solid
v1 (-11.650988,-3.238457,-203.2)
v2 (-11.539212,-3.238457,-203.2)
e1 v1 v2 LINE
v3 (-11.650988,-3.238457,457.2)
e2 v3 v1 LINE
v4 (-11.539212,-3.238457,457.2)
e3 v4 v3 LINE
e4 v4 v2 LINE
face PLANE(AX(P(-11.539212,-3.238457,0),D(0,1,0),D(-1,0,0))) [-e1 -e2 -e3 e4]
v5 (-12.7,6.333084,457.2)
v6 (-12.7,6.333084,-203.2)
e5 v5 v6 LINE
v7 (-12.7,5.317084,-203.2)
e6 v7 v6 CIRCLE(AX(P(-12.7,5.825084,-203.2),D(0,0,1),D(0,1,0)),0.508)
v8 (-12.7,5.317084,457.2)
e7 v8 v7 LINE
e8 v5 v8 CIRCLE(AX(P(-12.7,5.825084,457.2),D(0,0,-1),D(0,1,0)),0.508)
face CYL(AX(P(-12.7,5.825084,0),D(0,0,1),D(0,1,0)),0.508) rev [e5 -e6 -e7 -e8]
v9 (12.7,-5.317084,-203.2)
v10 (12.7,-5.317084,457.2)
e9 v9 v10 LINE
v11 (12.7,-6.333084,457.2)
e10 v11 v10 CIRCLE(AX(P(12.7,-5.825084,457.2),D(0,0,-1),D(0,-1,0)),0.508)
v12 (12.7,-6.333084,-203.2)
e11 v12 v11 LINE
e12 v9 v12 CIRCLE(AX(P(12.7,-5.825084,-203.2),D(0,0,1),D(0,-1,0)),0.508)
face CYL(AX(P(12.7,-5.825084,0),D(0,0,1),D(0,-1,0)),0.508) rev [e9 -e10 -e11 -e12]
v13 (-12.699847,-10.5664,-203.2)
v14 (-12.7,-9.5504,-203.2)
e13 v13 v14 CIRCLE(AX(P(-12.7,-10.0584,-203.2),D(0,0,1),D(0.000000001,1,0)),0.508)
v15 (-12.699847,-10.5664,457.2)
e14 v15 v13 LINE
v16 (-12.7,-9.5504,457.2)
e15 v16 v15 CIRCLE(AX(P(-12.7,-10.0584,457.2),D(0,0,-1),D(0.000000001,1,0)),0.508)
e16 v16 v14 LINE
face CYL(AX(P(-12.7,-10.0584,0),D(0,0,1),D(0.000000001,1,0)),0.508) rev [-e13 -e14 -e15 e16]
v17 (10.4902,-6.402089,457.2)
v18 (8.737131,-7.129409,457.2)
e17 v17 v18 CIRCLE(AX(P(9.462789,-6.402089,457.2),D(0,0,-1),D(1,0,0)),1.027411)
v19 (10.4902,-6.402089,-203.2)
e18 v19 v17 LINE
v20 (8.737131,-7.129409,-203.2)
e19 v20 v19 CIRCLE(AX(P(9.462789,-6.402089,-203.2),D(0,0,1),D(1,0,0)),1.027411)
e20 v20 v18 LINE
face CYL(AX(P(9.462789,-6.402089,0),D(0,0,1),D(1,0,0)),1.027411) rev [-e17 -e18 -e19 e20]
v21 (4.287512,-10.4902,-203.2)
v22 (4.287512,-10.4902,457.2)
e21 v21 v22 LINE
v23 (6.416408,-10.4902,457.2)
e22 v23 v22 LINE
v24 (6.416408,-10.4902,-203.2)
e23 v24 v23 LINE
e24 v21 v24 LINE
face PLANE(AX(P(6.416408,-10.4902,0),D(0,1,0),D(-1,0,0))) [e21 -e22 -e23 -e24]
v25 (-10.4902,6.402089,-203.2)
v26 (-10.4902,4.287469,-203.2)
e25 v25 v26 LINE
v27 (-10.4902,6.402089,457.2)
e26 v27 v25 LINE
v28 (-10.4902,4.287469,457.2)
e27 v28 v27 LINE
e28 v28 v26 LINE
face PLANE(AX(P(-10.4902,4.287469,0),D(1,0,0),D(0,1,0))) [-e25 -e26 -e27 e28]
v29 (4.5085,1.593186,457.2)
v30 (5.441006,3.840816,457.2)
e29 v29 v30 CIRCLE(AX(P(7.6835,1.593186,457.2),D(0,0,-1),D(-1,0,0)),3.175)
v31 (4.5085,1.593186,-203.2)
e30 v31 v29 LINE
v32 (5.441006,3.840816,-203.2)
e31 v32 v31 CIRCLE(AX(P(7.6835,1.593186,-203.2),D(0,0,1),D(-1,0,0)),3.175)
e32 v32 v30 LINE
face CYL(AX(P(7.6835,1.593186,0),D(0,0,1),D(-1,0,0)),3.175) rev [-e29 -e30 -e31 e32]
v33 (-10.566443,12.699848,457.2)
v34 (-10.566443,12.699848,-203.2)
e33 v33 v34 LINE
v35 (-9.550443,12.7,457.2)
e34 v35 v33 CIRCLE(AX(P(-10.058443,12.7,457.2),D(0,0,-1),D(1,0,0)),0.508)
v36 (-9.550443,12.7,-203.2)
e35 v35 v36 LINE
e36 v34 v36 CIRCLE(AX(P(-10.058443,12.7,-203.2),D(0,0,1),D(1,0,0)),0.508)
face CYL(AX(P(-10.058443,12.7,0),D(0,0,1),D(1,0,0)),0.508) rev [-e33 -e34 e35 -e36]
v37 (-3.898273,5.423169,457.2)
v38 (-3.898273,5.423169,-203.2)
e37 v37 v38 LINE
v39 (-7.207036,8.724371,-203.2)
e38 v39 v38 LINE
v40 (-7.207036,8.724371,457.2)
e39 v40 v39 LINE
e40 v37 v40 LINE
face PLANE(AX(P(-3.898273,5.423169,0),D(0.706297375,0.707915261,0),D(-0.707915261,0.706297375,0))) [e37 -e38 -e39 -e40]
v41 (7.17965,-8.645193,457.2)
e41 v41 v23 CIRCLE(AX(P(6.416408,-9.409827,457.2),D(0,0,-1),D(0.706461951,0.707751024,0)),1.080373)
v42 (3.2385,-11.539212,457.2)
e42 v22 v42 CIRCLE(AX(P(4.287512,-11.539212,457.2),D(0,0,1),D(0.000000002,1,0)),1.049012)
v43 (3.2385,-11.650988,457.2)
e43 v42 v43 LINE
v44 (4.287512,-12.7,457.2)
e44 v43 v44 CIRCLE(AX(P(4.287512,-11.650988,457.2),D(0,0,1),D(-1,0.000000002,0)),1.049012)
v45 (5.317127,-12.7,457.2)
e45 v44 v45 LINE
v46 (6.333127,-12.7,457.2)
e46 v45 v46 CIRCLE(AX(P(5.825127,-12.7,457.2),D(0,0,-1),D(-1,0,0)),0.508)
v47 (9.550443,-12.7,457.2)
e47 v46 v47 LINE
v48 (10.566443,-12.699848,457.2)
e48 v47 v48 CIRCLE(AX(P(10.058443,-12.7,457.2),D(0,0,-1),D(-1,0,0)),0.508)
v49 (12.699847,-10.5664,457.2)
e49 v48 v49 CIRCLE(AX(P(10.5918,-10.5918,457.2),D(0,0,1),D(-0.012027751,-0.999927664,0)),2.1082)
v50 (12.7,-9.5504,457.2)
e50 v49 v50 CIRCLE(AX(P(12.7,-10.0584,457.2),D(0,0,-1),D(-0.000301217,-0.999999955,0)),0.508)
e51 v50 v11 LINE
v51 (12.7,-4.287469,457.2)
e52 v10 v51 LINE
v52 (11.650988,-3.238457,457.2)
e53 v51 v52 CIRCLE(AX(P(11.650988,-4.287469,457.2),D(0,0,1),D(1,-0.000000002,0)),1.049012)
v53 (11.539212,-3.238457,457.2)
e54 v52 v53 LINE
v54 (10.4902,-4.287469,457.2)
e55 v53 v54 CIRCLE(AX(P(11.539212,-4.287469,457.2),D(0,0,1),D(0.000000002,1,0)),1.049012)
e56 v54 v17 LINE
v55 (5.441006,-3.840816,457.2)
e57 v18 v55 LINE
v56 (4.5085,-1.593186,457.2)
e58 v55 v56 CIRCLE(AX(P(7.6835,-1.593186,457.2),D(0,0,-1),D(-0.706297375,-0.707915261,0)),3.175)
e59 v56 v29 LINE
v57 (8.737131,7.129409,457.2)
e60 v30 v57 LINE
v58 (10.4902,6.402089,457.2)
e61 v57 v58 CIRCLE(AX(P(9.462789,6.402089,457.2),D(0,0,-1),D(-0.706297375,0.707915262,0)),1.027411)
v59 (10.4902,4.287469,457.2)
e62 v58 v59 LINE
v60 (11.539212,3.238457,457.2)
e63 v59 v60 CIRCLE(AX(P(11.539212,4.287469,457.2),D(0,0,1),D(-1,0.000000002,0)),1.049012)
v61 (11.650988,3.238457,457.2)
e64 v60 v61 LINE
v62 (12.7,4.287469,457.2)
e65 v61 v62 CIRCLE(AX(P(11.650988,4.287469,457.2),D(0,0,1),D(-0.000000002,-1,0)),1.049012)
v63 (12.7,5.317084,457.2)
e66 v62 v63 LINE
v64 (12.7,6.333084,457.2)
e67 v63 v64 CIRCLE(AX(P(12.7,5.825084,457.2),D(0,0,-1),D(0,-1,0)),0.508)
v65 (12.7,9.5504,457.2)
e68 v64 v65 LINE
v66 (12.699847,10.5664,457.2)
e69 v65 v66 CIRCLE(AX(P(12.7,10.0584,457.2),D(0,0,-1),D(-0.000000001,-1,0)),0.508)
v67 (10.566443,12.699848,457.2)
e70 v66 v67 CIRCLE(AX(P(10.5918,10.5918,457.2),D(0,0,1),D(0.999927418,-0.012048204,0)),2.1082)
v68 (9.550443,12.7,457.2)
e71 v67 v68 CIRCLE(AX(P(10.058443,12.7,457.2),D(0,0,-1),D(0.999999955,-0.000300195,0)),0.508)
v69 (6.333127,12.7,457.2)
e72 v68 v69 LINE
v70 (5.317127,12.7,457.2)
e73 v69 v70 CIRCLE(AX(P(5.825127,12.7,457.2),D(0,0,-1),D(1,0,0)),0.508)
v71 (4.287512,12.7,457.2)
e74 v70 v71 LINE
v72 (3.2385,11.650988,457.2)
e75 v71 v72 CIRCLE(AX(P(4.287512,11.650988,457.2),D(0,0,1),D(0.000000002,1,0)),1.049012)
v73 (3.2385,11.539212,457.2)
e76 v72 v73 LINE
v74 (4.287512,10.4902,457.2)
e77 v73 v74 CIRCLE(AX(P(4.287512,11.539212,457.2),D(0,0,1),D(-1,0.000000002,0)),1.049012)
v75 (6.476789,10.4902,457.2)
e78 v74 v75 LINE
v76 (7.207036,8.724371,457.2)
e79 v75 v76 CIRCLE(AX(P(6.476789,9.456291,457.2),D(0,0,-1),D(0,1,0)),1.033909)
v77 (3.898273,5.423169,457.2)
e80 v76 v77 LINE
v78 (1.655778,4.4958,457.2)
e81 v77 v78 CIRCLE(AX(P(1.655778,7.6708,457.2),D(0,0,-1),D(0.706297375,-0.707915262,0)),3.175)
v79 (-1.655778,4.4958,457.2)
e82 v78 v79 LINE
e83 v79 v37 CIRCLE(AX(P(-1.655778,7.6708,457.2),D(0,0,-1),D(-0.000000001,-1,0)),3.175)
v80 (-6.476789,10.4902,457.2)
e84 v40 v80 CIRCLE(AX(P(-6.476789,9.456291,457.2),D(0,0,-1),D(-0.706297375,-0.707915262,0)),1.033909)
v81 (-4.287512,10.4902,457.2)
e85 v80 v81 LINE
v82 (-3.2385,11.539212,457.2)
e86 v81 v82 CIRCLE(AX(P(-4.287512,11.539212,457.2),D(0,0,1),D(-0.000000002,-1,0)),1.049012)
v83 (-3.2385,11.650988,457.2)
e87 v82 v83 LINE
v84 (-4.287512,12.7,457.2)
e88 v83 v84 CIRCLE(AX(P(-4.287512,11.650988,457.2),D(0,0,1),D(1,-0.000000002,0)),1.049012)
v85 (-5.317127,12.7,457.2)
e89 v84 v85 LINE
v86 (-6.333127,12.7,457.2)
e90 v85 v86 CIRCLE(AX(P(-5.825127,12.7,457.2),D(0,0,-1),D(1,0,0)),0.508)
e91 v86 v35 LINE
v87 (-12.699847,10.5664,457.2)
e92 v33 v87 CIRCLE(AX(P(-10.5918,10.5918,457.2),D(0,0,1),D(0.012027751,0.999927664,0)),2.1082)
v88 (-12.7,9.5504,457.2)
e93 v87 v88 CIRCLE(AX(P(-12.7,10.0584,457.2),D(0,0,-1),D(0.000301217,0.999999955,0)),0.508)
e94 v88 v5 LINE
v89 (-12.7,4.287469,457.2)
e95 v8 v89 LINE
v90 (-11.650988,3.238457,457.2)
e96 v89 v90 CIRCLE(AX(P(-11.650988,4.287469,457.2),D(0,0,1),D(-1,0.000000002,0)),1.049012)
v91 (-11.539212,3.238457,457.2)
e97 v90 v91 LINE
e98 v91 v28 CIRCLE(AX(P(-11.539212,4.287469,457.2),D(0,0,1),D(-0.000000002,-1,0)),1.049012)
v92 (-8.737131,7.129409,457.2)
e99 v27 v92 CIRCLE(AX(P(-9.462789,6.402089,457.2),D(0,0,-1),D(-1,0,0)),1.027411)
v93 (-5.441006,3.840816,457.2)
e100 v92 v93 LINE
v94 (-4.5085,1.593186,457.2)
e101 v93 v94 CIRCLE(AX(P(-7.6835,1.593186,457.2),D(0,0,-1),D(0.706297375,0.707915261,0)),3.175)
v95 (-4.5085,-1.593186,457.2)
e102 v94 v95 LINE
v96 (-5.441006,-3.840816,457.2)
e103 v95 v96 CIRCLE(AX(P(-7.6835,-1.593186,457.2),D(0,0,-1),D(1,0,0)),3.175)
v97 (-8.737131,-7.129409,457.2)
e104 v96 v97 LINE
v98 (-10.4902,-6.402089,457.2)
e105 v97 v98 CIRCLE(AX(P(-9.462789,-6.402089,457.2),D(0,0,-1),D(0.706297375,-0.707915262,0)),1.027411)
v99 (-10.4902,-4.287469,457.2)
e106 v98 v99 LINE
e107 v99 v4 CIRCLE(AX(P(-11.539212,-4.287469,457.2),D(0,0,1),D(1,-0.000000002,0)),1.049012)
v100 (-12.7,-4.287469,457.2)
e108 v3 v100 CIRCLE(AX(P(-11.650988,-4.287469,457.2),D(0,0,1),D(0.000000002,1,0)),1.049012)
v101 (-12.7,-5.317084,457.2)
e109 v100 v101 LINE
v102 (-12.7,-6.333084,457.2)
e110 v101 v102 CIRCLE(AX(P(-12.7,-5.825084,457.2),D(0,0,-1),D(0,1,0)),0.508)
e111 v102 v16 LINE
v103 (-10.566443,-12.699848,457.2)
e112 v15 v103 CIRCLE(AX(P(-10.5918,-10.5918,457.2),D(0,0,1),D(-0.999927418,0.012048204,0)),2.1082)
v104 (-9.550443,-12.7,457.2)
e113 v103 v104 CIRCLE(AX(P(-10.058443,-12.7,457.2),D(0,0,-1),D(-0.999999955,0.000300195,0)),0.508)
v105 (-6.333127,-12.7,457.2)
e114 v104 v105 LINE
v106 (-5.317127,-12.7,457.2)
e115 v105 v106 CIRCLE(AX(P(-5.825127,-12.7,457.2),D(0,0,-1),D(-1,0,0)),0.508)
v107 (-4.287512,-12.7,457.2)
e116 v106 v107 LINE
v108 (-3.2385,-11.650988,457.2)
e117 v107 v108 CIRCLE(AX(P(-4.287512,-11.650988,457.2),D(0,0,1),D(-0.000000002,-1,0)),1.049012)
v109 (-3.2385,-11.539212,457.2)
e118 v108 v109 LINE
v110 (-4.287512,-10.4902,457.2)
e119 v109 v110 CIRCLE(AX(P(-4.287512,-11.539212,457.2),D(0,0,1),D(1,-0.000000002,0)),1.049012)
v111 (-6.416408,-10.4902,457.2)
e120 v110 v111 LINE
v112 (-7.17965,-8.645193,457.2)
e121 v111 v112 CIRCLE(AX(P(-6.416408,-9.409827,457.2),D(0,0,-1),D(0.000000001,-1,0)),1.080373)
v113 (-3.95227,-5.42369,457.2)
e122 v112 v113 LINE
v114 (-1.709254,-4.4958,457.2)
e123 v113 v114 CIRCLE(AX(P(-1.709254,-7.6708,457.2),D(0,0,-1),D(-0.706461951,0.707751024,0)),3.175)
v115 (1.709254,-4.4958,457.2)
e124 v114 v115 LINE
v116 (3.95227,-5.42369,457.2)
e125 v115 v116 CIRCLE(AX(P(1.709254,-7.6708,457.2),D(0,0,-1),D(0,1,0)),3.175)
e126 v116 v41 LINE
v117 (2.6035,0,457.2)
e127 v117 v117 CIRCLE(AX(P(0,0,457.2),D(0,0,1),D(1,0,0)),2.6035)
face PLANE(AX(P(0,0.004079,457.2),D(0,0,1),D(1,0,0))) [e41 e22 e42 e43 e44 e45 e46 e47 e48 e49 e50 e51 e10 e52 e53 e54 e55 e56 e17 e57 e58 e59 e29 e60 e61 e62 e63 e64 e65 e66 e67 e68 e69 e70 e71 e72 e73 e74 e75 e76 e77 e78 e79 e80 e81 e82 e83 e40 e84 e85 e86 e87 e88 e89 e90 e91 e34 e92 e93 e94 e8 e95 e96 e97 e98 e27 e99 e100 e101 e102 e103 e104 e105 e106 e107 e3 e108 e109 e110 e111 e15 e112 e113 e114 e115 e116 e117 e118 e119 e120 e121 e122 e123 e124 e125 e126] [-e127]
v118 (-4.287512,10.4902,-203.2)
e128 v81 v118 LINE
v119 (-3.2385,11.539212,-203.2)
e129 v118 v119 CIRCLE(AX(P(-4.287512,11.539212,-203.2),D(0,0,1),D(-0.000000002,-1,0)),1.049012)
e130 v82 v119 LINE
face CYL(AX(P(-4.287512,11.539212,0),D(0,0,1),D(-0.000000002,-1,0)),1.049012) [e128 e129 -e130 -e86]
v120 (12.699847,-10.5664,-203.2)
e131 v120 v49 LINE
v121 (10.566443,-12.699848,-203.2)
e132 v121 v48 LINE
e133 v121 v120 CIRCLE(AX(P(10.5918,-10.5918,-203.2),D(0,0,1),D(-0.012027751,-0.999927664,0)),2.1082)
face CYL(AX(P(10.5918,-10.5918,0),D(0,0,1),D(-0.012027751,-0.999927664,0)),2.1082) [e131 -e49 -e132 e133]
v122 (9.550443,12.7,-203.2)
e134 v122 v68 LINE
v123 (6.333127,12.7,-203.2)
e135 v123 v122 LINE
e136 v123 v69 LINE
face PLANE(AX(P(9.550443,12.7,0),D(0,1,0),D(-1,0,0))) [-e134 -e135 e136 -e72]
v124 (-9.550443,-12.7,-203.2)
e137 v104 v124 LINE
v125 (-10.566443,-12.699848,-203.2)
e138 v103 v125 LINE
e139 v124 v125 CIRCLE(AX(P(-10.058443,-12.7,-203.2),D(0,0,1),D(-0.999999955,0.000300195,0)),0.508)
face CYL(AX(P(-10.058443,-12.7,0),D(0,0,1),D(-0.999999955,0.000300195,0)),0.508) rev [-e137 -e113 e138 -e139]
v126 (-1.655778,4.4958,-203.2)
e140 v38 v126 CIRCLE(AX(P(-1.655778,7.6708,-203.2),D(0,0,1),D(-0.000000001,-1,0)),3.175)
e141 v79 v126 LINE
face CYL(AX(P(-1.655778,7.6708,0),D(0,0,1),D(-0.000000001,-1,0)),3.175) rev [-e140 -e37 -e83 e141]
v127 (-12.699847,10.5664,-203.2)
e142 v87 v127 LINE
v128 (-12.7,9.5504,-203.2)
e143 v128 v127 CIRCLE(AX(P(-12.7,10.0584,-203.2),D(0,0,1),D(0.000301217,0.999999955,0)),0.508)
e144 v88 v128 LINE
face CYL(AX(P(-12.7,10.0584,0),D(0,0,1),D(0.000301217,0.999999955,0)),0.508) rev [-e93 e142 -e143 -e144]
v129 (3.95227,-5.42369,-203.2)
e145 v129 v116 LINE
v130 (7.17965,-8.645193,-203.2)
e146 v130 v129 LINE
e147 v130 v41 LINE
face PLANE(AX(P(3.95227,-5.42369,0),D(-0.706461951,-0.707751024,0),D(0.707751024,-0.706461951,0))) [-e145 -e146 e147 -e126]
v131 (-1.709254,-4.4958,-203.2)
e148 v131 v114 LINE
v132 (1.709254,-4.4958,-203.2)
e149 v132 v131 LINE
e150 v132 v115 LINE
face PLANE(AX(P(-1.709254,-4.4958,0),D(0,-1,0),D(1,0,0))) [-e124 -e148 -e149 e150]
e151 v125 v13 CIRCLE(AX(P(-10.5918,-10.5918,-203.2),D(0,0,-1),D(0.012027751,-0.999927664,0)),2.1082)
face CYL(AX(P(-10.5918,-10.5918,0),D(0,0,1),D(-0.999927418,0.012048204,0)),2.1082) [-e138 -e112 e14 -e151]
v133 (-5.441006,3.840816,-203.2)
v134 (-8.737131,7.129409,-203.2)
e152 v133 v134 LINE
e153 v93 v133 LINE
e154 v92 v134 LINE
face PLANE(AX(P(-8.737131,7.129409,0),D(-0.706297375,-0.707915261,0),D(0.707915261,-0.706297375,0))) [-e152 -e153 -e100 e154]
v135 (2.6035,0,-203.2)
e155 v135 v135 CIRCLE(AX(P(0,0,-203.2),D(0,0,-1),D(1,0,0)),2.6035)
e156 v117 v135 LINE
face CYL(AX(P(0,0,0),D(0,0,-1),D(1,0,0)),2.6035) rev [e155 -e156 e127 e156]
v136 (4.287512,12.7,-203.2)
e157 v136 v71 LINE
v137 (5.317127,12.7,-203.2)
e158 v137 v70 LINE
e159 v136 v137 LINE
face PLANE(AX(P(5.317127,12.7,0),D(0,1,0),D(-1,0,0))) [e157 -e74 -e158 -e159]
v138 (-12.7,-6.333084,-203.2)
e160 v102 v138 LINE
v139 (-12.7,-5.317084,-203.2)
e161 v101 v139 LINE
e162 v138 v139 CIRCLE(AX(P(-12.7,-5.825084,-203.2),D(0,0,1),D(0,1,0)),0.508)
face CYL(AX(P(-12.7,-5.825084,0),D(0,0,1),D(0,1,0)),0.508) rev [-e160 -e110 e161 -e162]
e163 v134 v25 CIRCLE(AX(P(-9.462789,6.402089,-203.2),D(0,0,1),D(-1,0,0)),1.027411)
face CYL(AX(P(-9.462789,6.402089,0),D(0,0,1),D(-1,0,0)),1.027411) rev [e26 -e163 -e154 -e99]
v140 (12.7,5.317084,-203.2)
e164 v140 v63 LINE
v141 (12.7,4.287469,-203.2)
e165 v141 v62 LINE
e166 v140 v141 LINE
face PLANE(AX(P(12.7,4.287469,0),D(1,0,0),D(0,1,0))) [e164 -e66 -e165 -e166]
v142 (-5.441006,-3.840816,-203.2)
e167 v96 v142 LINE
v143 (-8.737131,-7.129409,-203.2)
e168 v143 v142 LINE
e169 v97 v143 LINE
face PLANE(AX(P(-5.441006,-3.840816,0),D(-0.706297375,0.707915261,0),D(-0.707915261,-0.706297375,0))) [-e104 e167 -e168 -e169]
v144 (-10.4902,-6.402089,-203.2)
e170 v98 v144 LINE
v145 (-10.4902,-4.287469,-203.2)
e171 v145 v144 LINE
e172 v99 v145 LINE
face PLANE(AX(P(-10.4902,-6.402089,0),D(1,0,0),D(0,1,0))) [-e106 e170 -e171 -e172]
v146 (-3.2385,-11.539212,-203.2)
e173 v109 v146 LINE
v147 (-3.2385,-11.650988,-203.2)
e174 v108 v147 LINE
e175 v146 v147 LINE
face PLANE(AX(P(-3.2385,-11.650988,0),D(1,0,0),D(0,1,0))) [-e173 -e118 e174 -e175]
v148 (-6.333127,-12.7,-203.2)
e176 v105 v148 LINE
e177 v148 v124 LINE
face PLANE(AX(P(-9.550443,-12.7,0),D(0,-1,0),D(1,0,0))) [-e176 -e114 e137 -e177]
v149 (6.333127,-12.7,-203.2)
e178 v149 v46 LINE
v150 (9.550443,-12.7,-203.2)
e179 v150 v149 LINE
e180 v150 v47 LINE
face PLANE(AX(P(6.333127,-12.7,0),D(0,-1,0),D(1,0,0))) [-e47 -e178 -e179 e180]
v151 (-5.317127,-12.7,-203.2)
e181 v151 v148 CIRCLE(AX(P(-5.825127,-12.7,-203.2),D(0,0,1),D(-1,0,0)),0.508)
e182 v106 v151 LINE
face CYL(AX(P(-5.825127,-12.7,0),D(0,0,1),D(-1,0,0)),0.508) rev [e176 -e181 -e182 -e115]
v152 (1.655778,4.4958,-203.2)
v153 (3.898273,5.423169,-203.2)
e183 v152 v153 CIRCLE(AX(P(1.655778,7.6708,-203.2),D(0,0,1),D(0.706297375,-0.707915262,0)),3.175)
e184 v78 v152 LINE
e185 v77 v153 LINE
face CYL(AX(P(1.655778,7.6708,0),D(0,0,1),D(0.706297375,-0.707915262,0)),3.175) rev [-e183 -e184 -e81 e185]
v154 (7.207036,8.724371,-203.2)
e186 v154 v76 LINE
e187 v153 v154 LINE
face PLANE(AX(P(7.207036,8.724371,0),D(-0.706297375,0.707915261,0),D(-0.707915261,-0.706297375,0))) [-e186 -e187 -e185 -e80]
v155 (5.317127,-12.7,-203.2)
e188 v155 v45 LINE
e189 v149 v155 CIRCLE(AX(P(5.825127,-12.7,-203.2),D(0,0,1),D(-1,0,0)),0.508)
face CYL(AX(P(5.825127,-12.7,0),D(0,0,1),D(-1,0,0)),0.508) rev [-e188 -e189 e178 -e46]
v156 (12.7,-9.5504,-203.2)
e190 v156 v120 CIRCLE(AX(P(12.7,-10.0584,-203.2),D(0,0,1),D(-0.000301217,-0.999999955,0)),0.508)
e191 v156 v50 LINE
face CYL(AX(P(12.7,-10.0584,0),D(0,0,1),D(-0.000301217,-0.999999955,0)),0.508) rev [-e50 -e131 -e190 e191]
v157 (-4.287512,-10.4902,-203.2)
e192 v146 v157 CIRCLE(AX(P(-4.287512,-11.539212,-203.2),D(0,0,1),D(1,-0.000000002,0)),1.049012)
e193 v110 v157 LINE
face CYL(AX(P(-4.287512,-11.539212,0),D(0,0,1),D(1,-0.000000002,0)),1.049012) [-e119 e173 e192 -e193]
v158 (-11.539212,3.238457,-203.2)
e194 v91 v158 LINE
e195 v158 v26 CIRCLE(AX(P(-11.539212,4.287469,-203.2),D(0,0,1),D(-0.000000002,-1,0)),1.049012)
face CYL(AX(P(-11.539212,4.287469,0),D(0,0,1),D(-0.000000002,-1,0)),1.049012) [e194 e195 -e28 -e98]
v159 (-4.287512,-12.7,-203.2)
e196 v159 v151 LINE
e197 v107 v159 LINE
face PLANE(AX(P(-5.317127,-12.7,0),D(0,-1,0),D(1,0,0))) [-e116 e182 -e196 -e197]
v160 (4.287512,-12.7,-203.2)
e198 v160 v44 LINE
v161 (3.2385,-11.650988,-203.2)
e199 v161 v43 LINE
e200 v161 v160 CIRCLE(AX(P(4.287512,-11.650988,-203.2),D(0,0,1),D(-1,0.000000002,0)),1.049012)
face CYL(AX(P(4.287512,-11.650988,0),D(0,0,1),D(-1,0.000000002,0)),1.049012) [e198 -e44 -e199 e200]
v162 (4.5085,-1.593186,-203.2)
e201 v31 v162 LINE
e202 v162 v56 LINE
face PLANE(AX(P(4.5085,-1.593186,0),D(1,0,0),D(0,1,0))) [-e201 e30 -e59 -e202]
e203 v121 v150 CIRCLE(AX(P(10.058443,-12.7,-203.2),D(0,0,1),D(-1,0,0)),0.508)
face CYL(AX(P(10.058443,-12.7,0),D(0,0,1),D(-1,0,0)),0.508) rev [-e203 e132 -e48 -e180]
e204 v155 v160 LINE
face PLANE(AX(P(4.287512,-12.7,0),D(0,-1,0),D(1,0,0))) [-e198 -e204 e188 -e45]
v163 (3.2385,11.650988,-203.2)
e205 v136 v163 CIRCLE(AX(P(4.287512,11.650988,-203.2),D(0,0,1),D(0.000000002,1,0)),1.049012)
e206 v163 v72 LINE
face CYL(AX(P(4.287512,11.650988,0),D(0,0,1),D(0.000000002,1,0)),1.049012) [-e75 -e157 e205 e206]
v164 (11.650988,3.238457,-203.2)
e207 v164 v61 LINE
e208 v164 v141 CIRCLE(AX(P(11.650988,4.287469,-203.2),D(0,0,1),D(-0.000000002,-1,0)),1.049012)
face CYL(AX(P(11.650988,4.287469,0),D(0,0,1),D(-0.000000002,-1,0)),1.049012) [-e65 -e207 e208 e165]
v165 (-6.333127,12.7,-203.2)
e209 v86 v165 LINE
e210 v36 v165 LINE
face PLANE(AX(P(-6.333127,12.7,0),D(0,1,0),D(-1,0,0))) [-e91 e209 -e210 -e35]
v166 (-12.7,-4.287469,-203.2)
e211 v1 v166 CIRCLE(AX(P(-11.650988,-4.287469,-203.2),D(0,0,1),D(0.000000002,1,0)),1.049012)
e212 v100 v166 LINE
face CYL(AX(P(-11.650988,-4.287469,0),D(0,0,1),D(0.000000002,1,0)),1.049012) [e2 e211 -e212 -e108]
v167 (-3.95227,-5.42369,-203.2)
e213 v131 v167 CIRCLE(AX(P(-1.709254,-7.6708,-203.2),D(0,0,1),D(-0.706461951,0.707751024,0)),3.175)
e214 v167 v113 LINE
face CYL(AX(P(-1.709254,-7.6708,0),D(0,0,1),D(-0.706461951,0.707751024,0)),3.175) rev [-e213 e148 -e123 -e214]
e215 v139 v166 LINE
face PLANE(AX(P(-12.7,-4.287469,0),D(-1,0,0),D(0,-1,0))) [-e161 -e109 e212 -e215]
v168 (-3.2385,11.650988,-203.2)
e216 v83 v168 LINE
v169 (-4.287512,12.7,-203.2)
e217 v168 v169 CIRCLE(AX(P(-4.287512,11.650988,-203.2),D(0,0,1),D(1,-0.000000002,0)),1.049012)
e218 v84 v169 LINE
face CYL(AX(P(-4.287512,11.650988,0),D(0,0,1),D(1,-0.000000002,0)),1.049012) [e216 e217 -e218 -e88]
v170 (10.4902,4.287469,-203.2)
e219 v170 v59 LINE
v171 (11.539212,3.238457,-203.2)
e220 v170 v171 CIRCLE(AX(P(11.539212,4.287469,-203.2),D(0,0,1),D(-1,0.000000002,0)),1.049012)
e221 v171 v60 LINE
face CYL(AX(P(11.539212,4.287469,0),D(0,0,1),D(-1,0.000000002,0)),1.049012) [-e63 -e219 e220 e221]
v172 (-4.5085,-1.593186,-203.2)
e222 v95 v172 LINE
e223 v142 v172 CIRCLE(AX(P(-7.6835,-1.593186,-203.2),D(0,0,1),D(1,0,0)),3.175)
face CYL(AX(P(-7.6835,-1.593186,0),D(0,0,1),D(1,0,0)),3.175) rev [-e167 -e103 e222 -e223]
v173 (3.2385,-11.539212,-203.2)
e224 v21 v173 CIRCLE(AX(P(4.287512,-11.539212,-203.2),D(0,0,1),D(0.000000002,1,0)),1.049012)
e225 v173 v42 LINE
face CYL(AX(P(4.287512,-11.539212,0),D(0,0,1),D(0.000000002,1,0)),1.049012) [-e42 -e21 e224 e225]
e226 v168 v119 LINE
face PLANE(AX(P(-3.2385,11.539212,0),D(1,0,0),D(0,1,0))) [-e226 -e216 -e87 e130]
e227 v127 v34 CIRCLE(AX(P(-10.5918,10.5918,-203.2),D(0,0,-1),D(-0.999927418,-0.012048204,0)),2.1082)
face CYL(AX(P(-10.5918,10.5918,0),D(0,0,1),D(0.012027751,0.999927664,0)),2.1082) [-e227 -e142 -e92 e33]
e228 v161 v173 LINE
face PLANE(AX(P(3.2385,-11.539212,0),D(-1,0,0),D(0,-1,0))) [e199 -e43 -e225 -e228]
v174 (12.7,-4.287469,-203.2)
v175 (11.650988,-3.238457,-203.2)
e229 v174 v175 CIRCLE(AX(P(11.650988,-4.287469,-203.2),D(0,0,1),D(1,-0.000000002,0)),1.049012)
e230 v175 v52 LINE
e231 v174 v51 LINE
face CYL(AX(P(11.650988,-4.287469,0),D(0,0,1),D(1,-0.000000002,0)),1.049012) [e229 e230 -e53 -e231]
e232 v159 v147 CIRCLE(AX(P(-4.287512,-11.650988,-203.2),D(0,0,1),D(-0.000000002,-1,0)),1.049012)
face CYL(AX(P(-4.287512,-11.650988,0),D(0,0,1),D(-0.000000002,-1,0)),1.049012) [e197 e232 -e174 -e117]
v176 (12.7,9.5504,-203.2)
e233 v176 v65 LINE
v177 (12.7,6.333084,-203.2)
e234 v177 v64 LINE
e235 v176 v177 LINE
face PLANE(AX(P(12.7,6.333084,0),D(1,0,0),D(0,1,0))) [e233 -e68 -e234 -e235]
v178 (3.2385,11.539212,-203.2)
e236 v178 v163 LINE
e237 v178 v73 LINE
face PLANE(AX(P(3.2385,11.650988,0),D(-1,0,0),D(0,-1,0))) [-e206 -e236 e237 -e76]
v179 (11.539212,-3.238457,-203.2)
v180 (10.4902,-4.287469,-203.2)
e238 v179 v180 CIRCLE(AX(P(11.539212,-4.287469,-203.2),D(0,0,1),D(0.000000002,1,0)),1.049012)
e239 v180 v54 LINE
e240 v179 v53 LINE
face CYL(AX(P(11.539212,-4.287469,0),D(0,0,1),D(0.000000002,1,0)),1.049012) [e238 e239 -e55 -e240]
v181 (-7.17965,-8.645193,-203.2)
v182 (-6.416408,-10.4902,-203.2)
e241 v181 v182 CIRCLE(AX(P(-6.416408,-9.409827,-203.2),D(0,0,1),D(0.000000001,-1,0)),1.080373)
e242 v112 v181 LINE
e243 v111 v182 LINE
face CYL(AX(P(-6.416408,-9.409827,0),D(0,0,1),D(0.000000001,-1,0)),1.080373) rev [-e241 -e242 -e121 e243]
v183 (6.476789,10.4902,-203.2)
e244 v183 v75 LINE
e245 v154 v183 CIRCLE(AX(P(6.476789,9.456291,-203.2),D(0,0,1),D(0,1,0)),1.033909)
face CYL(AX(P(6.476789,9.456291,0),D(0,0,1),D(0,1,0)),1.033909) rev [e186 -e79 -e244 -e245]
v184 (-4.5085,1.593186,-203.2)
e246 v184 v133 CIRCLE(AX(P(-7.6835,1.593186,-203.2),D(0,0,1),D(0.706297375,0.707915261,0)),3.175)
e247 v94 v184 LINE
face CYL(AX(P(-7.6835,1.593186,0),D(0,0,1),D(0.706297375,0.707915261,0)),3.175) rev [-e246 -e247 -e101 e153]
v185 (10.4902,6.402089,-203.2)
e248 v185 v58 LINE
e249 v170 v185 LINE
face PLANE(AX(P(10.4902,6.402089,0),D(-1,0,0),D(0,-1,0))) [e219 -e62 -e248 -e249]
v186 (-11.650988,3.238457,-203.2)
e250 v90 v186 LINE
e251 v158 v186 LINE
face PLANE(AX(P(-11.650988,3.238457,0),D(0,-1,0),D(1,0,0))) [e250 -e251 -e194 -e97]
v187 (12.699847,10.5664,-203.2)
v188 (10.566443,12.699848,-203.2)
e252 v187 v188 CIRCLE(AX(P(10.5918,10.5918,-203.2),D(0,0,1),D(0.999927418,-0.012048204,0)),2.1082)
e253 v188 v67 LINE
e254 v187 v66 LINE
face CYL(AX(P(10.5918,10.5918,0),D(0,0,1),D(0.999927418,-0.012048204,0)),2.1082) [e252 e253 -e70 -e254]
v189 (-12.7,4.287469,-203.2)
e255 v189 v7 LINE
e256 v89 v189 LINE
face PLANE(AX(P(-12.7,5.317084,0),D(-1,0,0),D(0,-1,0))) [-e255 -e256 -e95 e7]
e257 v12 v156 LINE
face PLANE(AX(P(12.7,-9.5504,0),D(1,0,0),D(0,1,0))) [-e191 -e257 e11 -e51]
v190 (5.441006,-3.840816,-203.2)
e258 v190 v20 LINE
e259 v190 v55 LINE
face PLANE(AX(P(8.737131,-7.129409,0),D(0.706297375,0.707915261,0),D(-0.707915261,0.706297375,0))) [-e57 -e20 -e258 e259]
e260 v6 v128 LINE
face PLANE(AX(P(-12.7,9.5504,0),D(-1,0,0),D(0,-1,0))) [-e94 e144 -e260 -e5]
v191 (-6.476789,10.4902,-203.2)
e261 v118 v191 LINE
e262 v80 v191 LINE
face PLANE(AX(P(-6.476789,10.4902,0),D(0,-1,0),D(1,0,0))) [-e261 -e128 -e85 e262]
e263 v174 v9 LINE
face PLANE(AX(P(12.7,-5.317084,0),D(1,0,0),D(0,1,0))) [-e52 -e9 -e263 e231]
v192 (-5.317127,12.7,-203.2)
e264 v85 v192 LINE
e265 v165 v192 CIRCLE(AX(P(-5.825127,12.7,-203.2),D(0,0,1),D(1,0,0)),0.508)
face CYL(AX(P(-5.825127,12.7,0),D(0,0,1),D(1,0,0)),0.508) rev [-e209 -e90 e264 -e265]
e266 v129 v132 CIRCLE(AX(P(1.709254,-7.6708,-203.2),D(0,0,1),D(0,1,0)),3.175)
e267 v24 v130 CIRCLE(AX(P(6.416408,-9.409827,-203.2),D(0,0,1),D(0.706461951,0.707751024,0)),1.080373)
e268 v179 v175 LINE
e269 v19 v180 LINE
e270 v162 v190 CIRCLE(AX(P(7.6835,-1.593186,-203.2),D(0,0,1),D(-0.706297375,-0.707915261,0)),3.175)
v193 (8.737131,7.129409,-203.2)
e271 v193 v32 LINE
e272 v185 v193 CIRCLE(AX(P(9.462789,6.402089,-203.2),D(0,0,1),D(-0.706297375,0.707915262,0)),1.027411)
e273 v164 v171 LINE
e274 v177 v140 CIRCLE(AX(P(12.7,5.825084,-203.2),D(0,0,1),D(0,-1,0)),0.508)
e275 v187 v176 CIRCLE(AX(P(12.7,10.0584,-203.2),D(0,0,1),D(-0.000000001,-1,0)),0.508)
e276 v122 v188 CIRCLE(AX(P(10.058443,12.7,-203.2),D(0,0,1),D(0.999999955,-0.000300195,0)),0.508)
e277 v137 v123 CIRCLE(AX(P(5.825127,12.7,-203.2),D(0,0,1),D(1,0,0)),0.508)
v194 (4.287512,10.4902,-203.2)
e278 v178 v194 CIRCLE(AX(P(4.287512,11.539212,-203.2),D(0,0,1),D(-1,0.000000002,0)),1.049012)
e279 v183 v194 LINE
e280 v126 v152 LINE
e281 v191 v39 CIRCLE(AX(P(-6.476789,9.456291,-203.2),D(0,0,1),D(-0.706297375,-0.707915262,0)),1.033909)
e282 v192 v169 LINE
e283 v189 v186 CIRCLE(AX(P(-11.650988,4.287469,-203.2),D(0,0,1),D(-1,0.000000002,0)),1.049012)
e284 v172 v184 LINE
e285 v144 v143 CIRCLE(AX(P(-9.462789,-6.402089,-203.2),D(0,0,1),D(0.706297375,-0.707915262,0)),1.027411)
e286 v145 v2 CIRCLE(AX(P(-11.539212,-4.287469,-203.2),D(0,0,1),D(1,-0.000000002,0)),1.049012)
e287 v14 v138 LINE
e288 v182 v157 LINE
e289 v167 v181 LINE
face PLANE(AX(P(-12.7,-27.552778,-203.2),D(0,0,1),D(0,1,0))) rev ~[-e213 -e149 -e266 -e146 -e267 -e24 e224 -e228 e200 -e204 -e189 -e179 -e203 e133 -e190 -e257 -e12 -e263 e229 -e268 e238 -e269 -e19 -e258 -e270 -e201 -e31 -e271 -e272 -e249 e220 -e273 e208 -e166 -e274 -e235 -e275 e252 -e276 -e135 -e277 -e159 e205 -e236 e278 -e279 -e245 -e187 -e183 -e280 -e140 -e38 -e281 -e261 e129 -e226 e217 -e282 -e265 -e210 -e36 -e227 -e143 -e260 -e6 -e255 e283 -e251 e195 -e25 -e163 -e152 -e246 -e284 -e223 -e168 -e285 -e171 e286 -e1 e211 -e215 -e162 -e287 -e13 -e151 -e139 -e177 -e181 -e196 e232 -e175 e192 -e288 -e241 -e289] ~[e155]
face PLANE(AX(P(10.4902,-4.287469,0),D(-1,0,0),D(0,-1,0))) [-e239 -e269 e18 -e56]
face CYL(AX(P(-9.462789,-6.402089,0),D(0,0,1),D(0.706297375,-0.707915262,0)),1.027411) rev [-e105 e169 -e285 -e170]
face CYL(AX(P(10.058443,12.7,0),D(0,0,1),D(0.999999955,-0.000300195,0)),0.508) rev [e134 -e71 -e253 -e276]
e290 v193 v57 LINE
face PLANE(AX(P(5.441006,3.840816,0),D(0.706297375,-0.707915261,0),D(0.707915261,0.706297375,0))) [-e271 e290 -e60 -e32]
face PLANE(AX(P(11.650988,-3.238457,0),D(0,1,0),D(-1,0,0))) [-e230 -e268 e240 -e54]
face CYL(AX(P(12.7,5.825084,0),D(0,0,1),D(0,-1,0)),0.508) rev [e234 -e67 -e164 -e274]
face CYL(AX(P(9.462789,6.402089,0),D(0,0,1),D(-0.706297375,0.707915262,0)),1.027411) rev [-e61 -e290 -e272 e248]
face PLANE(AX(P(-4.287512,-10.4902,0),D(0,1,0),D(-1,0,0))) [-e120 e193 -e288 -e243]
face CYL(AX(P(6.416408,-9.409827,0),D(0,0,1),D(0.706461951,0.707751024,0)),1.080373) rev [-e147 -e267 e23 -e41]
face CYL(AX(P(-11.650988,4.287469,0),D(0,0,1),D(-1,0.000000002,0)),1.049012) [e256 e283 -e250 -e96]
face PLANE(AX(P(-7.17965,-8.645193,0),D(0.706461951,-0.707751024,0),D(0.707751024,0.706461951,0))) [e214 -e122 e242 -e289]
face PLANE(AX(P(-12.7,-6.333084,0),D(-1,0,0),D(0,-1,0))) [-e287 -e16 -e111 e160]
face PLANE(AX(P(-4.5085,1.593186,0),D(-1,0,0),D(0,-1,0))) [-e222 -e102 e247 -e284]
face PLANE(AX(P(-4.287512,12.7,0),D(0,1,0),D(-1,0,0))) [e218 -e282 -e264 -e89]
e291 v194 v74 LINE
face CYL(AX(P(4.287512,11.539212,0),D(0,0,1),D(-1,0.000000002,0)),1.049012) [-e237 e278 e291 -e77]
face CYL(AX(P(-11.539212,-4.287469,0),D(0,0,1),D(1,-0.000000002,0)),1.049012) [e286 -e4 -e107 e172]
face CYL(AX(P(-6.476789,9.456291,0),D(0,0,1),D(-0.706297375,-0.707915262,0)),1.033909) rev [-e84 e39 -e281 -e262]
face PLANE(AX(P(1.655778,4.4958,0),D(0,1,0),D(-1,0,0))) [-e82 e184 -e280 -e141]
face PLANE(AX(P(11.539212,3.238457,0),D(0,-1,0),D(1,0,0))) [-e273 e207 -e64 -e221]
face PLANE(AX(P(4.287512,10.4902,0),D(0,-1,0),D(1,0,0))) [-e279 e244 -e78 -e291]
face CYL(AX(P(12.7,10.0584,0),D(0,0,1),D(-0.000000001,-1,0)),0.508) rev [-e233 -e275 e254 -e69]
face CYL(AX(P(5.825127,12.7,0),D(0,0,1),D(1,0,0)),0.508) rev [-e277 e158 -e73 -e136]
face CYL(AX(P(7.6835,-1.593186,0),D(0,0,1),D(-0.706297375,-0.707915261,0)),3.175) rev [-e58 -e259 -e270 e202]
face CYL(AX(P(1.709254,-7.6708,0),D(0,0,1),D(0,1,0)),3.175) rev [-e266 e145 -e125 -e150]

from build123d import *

# Parameters (mm, degrees)
SKETCH1_R               = 2.6035
BOSS_EXTRUDE1_DEPTH     = 457.2
CUT_EXTRUDE2_DEPTH      = 4.318
CUT_EXTRUDE2_DEPTH_BACK = 26.924


with BuildPart() as part:
    # Sketch1 → Boss-Extrude1 (new body, symmetric)
    with BuildSketch(Plane.XY):
        with BuildLine():
            Line((-7.179650497, -8.645192506), (-3.952270251, -5.423690499))
            ThreePointArc((-3.952270251, -5.423690499), (-2.922936451, -4.736929036), (-1.709253557, -4.4958))
            Line((-1.709253557, -4.4958), (1.709253557, -4.4958))
            ThreePointArc((1.709253557, -4.4958), (2.922936451, -4.736929036), (3.952270251, -5.423690499))
            Line((3.952270251, -5.423690499), (7.179650497, -8.645192506))
            ThreePointArc((7.179650497, -8.645192506), (7.41473083, -9.822813117), (6.416408329, -10.4902))
            Line((6.416408329, -10.4902), (4.287512407, -10.4902))
            ThreePointArc((4.287512407, -10.4902), (3.54574862, -10.79744862), (3.2385, -11.539212407))
            Line((3.2385, -11.539212407), (3.2385, -11.650987593))
            ThreePointArc((3.2385, -11.650987593), (3.54574862, -12.39275138), (4.287512407, -12.7))
            Line((4.287512407, -12.7), (5.317126718, -12.7))
            ThreePointArc((5.317126718, -12.7), (5.825126718, -12.192), (6.333126718, -12.7))
            Line((6.333126718, -12.7), (9.550443118, -12.7))
            ThreePointArc((9.550443118, -12.7), (10.058366869, -12.192000006), (10.566443095, -12.699847501))
            ThreePointArc((10.566443095, -12.699847501), (12.082537762, -12.08250727), (12.699846982, -10.566399977))
            ThreePointArc((12.699846982, -10.566399977), (12.192000006, -10.058323491), (12.7, -9.5504))
            Line((12.7, -9.5504), (12.7, -6.3330836))
            ThreePointArc((12.7, -6.3330836), (12.192, -5.8250836), (12.7, -5.3170836))
            Line((12.7, -5.3170836), (12.7, -4.287469289))
            ThreePointArc((12.7, -4.287469289), (12.39275138, -3.545705502), (11.650987593, -3.238456882))
            Line((11.650987593, -3.238456882), (11.539212407, -3.238456882))
            ThreePointArc((11.539212407, -3.238456882), (10.79744862, -3.545705502), (10.4902, -4.287469289))
            Line((10.4902, -4.287469289), (10.4902, -6.402089023))
            ThreePointArc((10.4902, -6.402089023), (9.856505071, -7.351067942), (8.737131347, -7.129408934))
            Line((8.737131347, -7.129408934), (5.441005833, -3.840816462))
            ThreePointArc((5.441005833, -3.840816462), (4.750877967, -2.809883091), (4.5085, -1.593185507))
            Line((4.5085, -1.593185507), (4.5085, 1.593185507))
            ThreePointArc((4.5085, 1.593185507), (4.750877967, 2.809883091), (5.441005833, 3.840816462))
            Line((5.441005833, 3.840816462), (8.737131347, 7.129408934))
            ThreePointArc((8.737131347, 7.129408934), (9.856505071, 7.351067942), (10.4902, 6.402089023))
            Line((10.4902, 6.402089023), (10.4902, 4.287469289))
            ThreePointArc((10.4902, 4.287469289), (10.79744862, 3.545705502), (11.539212407, 3.238456882))
            Line((11.539212407, 3.238456882), (11.650987593, 3.238456882))
            ThreePointArc((11.650987593, 3.238456882), (12.39275138, 3.545705502), (12.7, 4.287469289))
            Line((12.7, 4.287469289), (12.7, 5.3170836))
            ThreePointArc((12.7, 5.3170836), (12.192, 5.8250836), (12.7, 6.3330836))
            Line((12.7, 6.3330836), (12.7, 9.5504))
            ThreePointArc((12.7, 9.5504), (12.192000006, 10.058323491), (12.699846982, 10.566399977))
            ThreePointArc((12.699846982, 10.566399977), (12.082537762, 12.08250727), (10.566443095, 12.699847501))
            ThreePointArc((10.566443095, 12.699847501), (10.058366869, 12.192000006), (9.550443118, 12.7))
            Line((9.550443118, 12.7), (6.333126718, 12.7))
            ThreePointArc((6.333126718, 12.7), (5.825126718, 12.192), (5.317126718, 12.7))
            Line((5.317126718, 12.7), (4.287512407, 12.7))
            ThreePointArc((4.287512407, 12.7), (3.54574862, 12.39275138), (3.2385, 11.650987593))
            Line((3.2385, 11.650987593), (3.2385, 11.539212407))
            ThreePointArc((3.2385, 11.539212407), (3.54574862, 10.79744862), (4.287512407, 10.4902))
            Line((4.287512407, 10.4902), (6.476788598, 10.4902))
            ThreePointArc((6.476788598, 10.4902), (7.432222385, 9.85140422), (7.207036008, 8.724370562))
            Line((7.207036008, 8.724370562), (3.898272566, 5.423169045))
            ThreePointArc((3.898272566, 5.423169045), (2.869120213, 4.736787962), (1.655778399, 4.4958))
            Line((1.655778399, 4.4958), (-1.655778399, 4.4958))
            ThreePointArc((-1.655778399, 4.4958), (-2.869120213, 4.736787962), (-3.898272566, 5.423169045))
            Line((-3.898272566, 5.423169045), (-7.207036008, 8.724370562))
            ThreePointArc((-7.207036008, 8.724370562), (-7.432222385, 9.85140422), (-6.476788598, 10.4902))
            Line((-6.476788598, 10.4902), (-4.287512407, 10.4902))
            ThreePointArc((-4.287512407, 10.4902), (-3.54574862, 10.79744862), (-3.2385, 11.539212407))
            Line((-3.2385, 11.539212407), (-3.2385, 11.650987593))
            ThreePointArc((-3.2385, 11.650987593), (-3.54574862, 12.39275138), (-4.287512407, 12.7))
            Line((-4.287512407, 12.7), (-5.317126718, 12.7))
            ThreePointArc((-5.317126718, 12.7), (-5.825126718, 12.192), (-6.333126718, 12.7))
            Line((-6.333126718, 12.7), (-9.550443118, 12.7))
            ThreePointArc((-9.550443118, 12.7), (-10.058366869, 12.192000006), (-10.566443095, 12.699847501))
            ThreePointArc((-10.566443095, 12.699847501), (-12.082537762, 12.08250727), (-12.699846982, 10.566399977))
            ThreePointArc((-12.699846982, 10.566399977), (-12.192000006, 10.058323491), (-12.7, 9.5504))
            Line((-12.7, 9.5504), (-12.7, 6.3330836))
            ThreePointArc((-12.7, 6.3330836), (-12.192, 5.8250836), (-12.7, 5.3170836))
            Line((-12.7, 5.3170836), (-12.7, 4.287469289))
            ThreePointArc((-12.7, 4.287469289), (-12.39275138, 3.545705502), (-11.650987593, 3.238456882))
            Line((-11.650987593, 3.238456882), (-11.539212407, 3.238456882))
            ThreePointArc((-11.539212407, 3.238456882), (-10.79744862, 3.545705502), (-10.4902, 4.287469289))
            Line((-10.4902, 4.287469289), (-10.4902, 6.402089023))
            ThreePointArc((-10.4902, 6.402089023), (-9.856505071, 7.351067942), (-8.737131347, 7.129408934))
            Line((-8.737131347, 7.129408934), (-5.441005833, 3.840816462))
            ThreePointArc((-5.441005833, 3.840816462), (-4.750877967, 2.809883091), (-4.5085, 1.593185507))
            Line((-4.5085, 1.593185507), (-4.5085, -1.593185507))
            ThreePointArc((-4.5085, -1.593185507), (-4.750877967, -2.809883091), (-5.441005833, -3.840816462))
            Line((-5.441005833, -3.840816462), (-8.737131347, -7.129408934))
            ThreePointArc((-8.737131347, -7.129408934), (-9.856505071, -7.351067942), (-10.4902, -6.402089023))
            Line((-10.4902, -6.402089023), (-10.4902, -4.287469289))
            ThreePointArc((-10.4902, -4.287469289), (-10.79744862, -3.545705502), (-11.539212407, -3.238456882))
            Line((-11.539212407, -3.238456882), (-11.650987593, -3.238456882))
            ThreePointArc((-11.650987593, -3.238456882), (-12.39275138, -3.545705502), (-12.7, -4.287469289))
            Line((-12.7, -4.287469289), (-12.7, -5.3170836))
            ThreePointArc((-12.7, -5.3170836), (-12.192, -5.8250836), (-12.7, -6.3330836))
            Line((-12.7, -6.3330836), (-12.7, -9.5504))
            ThreePointArc((-12.7, -9.5504), (-12.192000006, -10.058323491), (-12.699846982, -10.566399977))
            ThreePointArc((-12.699846982, -10.566399977), (-12.082537762, -12.08250727), (-10.566443095, -12.699847501))
            ThreePointArc((-10.566443095, -12.699847501), (-10.058366869, -12.192000006), (-9.550443118, -12.7))
            Line((-9.550443118, -12.7), (-6.333126718, -12.7))
            ThreePointArc((-6.333126718, -12.7), (-5.825126718, -12.192), (-5.317126718, -12.7))
            Line((-5.317126718, -12.7), (-4.287512407, -12.7))
            ThreePointArc((-4.287512407, -12.7), (-3.54574862, -12.39275138), (-3.2385, -11.650987593))
            Line((-3.2385, -11.650987593), (-3.2385, -11.539212407))
            ThreePointArc((-3.2385, -11.539212407), (-3.54574862, -10.79744862), (-4.287512407, -10.4902))
            Line((-4.287512407, -10.4902), (-6.416408329, -10.4902))
            ThreePointArc((-6.416408329, -10.4902), (-7.41473083, -9.822813117), (-7.179650497, -8.645192506))
        make_face()
        Circle(SKETCH1_R, mode=Mode.SUBTRACT)
    extrude(amount=BOSS_EXTRUDE1_DEPTH, both=True)

    # Sketch3 → Cut-Extrude2 (cut, two sides)
    with BuildSketch(Plane.ZY.offset(12.7)) as cut_extrude2_sk:
        Polygon((-203.2, -27.552777595), (-203.2, 21.158109763), (-461.090893327, 21.158109763), (-461.090893327, -25.4), align=None)
    extrude(amount=CUT_EXTRUDE2_DEPTH, mode=Mode.SUBTRACT)
    extrude(cut_extrude2_sk.sketch, amount=-CUT_EXTRUDE2_DEPTH_BACK, mode=Mode.SUBTRACT)


solid = part.part
